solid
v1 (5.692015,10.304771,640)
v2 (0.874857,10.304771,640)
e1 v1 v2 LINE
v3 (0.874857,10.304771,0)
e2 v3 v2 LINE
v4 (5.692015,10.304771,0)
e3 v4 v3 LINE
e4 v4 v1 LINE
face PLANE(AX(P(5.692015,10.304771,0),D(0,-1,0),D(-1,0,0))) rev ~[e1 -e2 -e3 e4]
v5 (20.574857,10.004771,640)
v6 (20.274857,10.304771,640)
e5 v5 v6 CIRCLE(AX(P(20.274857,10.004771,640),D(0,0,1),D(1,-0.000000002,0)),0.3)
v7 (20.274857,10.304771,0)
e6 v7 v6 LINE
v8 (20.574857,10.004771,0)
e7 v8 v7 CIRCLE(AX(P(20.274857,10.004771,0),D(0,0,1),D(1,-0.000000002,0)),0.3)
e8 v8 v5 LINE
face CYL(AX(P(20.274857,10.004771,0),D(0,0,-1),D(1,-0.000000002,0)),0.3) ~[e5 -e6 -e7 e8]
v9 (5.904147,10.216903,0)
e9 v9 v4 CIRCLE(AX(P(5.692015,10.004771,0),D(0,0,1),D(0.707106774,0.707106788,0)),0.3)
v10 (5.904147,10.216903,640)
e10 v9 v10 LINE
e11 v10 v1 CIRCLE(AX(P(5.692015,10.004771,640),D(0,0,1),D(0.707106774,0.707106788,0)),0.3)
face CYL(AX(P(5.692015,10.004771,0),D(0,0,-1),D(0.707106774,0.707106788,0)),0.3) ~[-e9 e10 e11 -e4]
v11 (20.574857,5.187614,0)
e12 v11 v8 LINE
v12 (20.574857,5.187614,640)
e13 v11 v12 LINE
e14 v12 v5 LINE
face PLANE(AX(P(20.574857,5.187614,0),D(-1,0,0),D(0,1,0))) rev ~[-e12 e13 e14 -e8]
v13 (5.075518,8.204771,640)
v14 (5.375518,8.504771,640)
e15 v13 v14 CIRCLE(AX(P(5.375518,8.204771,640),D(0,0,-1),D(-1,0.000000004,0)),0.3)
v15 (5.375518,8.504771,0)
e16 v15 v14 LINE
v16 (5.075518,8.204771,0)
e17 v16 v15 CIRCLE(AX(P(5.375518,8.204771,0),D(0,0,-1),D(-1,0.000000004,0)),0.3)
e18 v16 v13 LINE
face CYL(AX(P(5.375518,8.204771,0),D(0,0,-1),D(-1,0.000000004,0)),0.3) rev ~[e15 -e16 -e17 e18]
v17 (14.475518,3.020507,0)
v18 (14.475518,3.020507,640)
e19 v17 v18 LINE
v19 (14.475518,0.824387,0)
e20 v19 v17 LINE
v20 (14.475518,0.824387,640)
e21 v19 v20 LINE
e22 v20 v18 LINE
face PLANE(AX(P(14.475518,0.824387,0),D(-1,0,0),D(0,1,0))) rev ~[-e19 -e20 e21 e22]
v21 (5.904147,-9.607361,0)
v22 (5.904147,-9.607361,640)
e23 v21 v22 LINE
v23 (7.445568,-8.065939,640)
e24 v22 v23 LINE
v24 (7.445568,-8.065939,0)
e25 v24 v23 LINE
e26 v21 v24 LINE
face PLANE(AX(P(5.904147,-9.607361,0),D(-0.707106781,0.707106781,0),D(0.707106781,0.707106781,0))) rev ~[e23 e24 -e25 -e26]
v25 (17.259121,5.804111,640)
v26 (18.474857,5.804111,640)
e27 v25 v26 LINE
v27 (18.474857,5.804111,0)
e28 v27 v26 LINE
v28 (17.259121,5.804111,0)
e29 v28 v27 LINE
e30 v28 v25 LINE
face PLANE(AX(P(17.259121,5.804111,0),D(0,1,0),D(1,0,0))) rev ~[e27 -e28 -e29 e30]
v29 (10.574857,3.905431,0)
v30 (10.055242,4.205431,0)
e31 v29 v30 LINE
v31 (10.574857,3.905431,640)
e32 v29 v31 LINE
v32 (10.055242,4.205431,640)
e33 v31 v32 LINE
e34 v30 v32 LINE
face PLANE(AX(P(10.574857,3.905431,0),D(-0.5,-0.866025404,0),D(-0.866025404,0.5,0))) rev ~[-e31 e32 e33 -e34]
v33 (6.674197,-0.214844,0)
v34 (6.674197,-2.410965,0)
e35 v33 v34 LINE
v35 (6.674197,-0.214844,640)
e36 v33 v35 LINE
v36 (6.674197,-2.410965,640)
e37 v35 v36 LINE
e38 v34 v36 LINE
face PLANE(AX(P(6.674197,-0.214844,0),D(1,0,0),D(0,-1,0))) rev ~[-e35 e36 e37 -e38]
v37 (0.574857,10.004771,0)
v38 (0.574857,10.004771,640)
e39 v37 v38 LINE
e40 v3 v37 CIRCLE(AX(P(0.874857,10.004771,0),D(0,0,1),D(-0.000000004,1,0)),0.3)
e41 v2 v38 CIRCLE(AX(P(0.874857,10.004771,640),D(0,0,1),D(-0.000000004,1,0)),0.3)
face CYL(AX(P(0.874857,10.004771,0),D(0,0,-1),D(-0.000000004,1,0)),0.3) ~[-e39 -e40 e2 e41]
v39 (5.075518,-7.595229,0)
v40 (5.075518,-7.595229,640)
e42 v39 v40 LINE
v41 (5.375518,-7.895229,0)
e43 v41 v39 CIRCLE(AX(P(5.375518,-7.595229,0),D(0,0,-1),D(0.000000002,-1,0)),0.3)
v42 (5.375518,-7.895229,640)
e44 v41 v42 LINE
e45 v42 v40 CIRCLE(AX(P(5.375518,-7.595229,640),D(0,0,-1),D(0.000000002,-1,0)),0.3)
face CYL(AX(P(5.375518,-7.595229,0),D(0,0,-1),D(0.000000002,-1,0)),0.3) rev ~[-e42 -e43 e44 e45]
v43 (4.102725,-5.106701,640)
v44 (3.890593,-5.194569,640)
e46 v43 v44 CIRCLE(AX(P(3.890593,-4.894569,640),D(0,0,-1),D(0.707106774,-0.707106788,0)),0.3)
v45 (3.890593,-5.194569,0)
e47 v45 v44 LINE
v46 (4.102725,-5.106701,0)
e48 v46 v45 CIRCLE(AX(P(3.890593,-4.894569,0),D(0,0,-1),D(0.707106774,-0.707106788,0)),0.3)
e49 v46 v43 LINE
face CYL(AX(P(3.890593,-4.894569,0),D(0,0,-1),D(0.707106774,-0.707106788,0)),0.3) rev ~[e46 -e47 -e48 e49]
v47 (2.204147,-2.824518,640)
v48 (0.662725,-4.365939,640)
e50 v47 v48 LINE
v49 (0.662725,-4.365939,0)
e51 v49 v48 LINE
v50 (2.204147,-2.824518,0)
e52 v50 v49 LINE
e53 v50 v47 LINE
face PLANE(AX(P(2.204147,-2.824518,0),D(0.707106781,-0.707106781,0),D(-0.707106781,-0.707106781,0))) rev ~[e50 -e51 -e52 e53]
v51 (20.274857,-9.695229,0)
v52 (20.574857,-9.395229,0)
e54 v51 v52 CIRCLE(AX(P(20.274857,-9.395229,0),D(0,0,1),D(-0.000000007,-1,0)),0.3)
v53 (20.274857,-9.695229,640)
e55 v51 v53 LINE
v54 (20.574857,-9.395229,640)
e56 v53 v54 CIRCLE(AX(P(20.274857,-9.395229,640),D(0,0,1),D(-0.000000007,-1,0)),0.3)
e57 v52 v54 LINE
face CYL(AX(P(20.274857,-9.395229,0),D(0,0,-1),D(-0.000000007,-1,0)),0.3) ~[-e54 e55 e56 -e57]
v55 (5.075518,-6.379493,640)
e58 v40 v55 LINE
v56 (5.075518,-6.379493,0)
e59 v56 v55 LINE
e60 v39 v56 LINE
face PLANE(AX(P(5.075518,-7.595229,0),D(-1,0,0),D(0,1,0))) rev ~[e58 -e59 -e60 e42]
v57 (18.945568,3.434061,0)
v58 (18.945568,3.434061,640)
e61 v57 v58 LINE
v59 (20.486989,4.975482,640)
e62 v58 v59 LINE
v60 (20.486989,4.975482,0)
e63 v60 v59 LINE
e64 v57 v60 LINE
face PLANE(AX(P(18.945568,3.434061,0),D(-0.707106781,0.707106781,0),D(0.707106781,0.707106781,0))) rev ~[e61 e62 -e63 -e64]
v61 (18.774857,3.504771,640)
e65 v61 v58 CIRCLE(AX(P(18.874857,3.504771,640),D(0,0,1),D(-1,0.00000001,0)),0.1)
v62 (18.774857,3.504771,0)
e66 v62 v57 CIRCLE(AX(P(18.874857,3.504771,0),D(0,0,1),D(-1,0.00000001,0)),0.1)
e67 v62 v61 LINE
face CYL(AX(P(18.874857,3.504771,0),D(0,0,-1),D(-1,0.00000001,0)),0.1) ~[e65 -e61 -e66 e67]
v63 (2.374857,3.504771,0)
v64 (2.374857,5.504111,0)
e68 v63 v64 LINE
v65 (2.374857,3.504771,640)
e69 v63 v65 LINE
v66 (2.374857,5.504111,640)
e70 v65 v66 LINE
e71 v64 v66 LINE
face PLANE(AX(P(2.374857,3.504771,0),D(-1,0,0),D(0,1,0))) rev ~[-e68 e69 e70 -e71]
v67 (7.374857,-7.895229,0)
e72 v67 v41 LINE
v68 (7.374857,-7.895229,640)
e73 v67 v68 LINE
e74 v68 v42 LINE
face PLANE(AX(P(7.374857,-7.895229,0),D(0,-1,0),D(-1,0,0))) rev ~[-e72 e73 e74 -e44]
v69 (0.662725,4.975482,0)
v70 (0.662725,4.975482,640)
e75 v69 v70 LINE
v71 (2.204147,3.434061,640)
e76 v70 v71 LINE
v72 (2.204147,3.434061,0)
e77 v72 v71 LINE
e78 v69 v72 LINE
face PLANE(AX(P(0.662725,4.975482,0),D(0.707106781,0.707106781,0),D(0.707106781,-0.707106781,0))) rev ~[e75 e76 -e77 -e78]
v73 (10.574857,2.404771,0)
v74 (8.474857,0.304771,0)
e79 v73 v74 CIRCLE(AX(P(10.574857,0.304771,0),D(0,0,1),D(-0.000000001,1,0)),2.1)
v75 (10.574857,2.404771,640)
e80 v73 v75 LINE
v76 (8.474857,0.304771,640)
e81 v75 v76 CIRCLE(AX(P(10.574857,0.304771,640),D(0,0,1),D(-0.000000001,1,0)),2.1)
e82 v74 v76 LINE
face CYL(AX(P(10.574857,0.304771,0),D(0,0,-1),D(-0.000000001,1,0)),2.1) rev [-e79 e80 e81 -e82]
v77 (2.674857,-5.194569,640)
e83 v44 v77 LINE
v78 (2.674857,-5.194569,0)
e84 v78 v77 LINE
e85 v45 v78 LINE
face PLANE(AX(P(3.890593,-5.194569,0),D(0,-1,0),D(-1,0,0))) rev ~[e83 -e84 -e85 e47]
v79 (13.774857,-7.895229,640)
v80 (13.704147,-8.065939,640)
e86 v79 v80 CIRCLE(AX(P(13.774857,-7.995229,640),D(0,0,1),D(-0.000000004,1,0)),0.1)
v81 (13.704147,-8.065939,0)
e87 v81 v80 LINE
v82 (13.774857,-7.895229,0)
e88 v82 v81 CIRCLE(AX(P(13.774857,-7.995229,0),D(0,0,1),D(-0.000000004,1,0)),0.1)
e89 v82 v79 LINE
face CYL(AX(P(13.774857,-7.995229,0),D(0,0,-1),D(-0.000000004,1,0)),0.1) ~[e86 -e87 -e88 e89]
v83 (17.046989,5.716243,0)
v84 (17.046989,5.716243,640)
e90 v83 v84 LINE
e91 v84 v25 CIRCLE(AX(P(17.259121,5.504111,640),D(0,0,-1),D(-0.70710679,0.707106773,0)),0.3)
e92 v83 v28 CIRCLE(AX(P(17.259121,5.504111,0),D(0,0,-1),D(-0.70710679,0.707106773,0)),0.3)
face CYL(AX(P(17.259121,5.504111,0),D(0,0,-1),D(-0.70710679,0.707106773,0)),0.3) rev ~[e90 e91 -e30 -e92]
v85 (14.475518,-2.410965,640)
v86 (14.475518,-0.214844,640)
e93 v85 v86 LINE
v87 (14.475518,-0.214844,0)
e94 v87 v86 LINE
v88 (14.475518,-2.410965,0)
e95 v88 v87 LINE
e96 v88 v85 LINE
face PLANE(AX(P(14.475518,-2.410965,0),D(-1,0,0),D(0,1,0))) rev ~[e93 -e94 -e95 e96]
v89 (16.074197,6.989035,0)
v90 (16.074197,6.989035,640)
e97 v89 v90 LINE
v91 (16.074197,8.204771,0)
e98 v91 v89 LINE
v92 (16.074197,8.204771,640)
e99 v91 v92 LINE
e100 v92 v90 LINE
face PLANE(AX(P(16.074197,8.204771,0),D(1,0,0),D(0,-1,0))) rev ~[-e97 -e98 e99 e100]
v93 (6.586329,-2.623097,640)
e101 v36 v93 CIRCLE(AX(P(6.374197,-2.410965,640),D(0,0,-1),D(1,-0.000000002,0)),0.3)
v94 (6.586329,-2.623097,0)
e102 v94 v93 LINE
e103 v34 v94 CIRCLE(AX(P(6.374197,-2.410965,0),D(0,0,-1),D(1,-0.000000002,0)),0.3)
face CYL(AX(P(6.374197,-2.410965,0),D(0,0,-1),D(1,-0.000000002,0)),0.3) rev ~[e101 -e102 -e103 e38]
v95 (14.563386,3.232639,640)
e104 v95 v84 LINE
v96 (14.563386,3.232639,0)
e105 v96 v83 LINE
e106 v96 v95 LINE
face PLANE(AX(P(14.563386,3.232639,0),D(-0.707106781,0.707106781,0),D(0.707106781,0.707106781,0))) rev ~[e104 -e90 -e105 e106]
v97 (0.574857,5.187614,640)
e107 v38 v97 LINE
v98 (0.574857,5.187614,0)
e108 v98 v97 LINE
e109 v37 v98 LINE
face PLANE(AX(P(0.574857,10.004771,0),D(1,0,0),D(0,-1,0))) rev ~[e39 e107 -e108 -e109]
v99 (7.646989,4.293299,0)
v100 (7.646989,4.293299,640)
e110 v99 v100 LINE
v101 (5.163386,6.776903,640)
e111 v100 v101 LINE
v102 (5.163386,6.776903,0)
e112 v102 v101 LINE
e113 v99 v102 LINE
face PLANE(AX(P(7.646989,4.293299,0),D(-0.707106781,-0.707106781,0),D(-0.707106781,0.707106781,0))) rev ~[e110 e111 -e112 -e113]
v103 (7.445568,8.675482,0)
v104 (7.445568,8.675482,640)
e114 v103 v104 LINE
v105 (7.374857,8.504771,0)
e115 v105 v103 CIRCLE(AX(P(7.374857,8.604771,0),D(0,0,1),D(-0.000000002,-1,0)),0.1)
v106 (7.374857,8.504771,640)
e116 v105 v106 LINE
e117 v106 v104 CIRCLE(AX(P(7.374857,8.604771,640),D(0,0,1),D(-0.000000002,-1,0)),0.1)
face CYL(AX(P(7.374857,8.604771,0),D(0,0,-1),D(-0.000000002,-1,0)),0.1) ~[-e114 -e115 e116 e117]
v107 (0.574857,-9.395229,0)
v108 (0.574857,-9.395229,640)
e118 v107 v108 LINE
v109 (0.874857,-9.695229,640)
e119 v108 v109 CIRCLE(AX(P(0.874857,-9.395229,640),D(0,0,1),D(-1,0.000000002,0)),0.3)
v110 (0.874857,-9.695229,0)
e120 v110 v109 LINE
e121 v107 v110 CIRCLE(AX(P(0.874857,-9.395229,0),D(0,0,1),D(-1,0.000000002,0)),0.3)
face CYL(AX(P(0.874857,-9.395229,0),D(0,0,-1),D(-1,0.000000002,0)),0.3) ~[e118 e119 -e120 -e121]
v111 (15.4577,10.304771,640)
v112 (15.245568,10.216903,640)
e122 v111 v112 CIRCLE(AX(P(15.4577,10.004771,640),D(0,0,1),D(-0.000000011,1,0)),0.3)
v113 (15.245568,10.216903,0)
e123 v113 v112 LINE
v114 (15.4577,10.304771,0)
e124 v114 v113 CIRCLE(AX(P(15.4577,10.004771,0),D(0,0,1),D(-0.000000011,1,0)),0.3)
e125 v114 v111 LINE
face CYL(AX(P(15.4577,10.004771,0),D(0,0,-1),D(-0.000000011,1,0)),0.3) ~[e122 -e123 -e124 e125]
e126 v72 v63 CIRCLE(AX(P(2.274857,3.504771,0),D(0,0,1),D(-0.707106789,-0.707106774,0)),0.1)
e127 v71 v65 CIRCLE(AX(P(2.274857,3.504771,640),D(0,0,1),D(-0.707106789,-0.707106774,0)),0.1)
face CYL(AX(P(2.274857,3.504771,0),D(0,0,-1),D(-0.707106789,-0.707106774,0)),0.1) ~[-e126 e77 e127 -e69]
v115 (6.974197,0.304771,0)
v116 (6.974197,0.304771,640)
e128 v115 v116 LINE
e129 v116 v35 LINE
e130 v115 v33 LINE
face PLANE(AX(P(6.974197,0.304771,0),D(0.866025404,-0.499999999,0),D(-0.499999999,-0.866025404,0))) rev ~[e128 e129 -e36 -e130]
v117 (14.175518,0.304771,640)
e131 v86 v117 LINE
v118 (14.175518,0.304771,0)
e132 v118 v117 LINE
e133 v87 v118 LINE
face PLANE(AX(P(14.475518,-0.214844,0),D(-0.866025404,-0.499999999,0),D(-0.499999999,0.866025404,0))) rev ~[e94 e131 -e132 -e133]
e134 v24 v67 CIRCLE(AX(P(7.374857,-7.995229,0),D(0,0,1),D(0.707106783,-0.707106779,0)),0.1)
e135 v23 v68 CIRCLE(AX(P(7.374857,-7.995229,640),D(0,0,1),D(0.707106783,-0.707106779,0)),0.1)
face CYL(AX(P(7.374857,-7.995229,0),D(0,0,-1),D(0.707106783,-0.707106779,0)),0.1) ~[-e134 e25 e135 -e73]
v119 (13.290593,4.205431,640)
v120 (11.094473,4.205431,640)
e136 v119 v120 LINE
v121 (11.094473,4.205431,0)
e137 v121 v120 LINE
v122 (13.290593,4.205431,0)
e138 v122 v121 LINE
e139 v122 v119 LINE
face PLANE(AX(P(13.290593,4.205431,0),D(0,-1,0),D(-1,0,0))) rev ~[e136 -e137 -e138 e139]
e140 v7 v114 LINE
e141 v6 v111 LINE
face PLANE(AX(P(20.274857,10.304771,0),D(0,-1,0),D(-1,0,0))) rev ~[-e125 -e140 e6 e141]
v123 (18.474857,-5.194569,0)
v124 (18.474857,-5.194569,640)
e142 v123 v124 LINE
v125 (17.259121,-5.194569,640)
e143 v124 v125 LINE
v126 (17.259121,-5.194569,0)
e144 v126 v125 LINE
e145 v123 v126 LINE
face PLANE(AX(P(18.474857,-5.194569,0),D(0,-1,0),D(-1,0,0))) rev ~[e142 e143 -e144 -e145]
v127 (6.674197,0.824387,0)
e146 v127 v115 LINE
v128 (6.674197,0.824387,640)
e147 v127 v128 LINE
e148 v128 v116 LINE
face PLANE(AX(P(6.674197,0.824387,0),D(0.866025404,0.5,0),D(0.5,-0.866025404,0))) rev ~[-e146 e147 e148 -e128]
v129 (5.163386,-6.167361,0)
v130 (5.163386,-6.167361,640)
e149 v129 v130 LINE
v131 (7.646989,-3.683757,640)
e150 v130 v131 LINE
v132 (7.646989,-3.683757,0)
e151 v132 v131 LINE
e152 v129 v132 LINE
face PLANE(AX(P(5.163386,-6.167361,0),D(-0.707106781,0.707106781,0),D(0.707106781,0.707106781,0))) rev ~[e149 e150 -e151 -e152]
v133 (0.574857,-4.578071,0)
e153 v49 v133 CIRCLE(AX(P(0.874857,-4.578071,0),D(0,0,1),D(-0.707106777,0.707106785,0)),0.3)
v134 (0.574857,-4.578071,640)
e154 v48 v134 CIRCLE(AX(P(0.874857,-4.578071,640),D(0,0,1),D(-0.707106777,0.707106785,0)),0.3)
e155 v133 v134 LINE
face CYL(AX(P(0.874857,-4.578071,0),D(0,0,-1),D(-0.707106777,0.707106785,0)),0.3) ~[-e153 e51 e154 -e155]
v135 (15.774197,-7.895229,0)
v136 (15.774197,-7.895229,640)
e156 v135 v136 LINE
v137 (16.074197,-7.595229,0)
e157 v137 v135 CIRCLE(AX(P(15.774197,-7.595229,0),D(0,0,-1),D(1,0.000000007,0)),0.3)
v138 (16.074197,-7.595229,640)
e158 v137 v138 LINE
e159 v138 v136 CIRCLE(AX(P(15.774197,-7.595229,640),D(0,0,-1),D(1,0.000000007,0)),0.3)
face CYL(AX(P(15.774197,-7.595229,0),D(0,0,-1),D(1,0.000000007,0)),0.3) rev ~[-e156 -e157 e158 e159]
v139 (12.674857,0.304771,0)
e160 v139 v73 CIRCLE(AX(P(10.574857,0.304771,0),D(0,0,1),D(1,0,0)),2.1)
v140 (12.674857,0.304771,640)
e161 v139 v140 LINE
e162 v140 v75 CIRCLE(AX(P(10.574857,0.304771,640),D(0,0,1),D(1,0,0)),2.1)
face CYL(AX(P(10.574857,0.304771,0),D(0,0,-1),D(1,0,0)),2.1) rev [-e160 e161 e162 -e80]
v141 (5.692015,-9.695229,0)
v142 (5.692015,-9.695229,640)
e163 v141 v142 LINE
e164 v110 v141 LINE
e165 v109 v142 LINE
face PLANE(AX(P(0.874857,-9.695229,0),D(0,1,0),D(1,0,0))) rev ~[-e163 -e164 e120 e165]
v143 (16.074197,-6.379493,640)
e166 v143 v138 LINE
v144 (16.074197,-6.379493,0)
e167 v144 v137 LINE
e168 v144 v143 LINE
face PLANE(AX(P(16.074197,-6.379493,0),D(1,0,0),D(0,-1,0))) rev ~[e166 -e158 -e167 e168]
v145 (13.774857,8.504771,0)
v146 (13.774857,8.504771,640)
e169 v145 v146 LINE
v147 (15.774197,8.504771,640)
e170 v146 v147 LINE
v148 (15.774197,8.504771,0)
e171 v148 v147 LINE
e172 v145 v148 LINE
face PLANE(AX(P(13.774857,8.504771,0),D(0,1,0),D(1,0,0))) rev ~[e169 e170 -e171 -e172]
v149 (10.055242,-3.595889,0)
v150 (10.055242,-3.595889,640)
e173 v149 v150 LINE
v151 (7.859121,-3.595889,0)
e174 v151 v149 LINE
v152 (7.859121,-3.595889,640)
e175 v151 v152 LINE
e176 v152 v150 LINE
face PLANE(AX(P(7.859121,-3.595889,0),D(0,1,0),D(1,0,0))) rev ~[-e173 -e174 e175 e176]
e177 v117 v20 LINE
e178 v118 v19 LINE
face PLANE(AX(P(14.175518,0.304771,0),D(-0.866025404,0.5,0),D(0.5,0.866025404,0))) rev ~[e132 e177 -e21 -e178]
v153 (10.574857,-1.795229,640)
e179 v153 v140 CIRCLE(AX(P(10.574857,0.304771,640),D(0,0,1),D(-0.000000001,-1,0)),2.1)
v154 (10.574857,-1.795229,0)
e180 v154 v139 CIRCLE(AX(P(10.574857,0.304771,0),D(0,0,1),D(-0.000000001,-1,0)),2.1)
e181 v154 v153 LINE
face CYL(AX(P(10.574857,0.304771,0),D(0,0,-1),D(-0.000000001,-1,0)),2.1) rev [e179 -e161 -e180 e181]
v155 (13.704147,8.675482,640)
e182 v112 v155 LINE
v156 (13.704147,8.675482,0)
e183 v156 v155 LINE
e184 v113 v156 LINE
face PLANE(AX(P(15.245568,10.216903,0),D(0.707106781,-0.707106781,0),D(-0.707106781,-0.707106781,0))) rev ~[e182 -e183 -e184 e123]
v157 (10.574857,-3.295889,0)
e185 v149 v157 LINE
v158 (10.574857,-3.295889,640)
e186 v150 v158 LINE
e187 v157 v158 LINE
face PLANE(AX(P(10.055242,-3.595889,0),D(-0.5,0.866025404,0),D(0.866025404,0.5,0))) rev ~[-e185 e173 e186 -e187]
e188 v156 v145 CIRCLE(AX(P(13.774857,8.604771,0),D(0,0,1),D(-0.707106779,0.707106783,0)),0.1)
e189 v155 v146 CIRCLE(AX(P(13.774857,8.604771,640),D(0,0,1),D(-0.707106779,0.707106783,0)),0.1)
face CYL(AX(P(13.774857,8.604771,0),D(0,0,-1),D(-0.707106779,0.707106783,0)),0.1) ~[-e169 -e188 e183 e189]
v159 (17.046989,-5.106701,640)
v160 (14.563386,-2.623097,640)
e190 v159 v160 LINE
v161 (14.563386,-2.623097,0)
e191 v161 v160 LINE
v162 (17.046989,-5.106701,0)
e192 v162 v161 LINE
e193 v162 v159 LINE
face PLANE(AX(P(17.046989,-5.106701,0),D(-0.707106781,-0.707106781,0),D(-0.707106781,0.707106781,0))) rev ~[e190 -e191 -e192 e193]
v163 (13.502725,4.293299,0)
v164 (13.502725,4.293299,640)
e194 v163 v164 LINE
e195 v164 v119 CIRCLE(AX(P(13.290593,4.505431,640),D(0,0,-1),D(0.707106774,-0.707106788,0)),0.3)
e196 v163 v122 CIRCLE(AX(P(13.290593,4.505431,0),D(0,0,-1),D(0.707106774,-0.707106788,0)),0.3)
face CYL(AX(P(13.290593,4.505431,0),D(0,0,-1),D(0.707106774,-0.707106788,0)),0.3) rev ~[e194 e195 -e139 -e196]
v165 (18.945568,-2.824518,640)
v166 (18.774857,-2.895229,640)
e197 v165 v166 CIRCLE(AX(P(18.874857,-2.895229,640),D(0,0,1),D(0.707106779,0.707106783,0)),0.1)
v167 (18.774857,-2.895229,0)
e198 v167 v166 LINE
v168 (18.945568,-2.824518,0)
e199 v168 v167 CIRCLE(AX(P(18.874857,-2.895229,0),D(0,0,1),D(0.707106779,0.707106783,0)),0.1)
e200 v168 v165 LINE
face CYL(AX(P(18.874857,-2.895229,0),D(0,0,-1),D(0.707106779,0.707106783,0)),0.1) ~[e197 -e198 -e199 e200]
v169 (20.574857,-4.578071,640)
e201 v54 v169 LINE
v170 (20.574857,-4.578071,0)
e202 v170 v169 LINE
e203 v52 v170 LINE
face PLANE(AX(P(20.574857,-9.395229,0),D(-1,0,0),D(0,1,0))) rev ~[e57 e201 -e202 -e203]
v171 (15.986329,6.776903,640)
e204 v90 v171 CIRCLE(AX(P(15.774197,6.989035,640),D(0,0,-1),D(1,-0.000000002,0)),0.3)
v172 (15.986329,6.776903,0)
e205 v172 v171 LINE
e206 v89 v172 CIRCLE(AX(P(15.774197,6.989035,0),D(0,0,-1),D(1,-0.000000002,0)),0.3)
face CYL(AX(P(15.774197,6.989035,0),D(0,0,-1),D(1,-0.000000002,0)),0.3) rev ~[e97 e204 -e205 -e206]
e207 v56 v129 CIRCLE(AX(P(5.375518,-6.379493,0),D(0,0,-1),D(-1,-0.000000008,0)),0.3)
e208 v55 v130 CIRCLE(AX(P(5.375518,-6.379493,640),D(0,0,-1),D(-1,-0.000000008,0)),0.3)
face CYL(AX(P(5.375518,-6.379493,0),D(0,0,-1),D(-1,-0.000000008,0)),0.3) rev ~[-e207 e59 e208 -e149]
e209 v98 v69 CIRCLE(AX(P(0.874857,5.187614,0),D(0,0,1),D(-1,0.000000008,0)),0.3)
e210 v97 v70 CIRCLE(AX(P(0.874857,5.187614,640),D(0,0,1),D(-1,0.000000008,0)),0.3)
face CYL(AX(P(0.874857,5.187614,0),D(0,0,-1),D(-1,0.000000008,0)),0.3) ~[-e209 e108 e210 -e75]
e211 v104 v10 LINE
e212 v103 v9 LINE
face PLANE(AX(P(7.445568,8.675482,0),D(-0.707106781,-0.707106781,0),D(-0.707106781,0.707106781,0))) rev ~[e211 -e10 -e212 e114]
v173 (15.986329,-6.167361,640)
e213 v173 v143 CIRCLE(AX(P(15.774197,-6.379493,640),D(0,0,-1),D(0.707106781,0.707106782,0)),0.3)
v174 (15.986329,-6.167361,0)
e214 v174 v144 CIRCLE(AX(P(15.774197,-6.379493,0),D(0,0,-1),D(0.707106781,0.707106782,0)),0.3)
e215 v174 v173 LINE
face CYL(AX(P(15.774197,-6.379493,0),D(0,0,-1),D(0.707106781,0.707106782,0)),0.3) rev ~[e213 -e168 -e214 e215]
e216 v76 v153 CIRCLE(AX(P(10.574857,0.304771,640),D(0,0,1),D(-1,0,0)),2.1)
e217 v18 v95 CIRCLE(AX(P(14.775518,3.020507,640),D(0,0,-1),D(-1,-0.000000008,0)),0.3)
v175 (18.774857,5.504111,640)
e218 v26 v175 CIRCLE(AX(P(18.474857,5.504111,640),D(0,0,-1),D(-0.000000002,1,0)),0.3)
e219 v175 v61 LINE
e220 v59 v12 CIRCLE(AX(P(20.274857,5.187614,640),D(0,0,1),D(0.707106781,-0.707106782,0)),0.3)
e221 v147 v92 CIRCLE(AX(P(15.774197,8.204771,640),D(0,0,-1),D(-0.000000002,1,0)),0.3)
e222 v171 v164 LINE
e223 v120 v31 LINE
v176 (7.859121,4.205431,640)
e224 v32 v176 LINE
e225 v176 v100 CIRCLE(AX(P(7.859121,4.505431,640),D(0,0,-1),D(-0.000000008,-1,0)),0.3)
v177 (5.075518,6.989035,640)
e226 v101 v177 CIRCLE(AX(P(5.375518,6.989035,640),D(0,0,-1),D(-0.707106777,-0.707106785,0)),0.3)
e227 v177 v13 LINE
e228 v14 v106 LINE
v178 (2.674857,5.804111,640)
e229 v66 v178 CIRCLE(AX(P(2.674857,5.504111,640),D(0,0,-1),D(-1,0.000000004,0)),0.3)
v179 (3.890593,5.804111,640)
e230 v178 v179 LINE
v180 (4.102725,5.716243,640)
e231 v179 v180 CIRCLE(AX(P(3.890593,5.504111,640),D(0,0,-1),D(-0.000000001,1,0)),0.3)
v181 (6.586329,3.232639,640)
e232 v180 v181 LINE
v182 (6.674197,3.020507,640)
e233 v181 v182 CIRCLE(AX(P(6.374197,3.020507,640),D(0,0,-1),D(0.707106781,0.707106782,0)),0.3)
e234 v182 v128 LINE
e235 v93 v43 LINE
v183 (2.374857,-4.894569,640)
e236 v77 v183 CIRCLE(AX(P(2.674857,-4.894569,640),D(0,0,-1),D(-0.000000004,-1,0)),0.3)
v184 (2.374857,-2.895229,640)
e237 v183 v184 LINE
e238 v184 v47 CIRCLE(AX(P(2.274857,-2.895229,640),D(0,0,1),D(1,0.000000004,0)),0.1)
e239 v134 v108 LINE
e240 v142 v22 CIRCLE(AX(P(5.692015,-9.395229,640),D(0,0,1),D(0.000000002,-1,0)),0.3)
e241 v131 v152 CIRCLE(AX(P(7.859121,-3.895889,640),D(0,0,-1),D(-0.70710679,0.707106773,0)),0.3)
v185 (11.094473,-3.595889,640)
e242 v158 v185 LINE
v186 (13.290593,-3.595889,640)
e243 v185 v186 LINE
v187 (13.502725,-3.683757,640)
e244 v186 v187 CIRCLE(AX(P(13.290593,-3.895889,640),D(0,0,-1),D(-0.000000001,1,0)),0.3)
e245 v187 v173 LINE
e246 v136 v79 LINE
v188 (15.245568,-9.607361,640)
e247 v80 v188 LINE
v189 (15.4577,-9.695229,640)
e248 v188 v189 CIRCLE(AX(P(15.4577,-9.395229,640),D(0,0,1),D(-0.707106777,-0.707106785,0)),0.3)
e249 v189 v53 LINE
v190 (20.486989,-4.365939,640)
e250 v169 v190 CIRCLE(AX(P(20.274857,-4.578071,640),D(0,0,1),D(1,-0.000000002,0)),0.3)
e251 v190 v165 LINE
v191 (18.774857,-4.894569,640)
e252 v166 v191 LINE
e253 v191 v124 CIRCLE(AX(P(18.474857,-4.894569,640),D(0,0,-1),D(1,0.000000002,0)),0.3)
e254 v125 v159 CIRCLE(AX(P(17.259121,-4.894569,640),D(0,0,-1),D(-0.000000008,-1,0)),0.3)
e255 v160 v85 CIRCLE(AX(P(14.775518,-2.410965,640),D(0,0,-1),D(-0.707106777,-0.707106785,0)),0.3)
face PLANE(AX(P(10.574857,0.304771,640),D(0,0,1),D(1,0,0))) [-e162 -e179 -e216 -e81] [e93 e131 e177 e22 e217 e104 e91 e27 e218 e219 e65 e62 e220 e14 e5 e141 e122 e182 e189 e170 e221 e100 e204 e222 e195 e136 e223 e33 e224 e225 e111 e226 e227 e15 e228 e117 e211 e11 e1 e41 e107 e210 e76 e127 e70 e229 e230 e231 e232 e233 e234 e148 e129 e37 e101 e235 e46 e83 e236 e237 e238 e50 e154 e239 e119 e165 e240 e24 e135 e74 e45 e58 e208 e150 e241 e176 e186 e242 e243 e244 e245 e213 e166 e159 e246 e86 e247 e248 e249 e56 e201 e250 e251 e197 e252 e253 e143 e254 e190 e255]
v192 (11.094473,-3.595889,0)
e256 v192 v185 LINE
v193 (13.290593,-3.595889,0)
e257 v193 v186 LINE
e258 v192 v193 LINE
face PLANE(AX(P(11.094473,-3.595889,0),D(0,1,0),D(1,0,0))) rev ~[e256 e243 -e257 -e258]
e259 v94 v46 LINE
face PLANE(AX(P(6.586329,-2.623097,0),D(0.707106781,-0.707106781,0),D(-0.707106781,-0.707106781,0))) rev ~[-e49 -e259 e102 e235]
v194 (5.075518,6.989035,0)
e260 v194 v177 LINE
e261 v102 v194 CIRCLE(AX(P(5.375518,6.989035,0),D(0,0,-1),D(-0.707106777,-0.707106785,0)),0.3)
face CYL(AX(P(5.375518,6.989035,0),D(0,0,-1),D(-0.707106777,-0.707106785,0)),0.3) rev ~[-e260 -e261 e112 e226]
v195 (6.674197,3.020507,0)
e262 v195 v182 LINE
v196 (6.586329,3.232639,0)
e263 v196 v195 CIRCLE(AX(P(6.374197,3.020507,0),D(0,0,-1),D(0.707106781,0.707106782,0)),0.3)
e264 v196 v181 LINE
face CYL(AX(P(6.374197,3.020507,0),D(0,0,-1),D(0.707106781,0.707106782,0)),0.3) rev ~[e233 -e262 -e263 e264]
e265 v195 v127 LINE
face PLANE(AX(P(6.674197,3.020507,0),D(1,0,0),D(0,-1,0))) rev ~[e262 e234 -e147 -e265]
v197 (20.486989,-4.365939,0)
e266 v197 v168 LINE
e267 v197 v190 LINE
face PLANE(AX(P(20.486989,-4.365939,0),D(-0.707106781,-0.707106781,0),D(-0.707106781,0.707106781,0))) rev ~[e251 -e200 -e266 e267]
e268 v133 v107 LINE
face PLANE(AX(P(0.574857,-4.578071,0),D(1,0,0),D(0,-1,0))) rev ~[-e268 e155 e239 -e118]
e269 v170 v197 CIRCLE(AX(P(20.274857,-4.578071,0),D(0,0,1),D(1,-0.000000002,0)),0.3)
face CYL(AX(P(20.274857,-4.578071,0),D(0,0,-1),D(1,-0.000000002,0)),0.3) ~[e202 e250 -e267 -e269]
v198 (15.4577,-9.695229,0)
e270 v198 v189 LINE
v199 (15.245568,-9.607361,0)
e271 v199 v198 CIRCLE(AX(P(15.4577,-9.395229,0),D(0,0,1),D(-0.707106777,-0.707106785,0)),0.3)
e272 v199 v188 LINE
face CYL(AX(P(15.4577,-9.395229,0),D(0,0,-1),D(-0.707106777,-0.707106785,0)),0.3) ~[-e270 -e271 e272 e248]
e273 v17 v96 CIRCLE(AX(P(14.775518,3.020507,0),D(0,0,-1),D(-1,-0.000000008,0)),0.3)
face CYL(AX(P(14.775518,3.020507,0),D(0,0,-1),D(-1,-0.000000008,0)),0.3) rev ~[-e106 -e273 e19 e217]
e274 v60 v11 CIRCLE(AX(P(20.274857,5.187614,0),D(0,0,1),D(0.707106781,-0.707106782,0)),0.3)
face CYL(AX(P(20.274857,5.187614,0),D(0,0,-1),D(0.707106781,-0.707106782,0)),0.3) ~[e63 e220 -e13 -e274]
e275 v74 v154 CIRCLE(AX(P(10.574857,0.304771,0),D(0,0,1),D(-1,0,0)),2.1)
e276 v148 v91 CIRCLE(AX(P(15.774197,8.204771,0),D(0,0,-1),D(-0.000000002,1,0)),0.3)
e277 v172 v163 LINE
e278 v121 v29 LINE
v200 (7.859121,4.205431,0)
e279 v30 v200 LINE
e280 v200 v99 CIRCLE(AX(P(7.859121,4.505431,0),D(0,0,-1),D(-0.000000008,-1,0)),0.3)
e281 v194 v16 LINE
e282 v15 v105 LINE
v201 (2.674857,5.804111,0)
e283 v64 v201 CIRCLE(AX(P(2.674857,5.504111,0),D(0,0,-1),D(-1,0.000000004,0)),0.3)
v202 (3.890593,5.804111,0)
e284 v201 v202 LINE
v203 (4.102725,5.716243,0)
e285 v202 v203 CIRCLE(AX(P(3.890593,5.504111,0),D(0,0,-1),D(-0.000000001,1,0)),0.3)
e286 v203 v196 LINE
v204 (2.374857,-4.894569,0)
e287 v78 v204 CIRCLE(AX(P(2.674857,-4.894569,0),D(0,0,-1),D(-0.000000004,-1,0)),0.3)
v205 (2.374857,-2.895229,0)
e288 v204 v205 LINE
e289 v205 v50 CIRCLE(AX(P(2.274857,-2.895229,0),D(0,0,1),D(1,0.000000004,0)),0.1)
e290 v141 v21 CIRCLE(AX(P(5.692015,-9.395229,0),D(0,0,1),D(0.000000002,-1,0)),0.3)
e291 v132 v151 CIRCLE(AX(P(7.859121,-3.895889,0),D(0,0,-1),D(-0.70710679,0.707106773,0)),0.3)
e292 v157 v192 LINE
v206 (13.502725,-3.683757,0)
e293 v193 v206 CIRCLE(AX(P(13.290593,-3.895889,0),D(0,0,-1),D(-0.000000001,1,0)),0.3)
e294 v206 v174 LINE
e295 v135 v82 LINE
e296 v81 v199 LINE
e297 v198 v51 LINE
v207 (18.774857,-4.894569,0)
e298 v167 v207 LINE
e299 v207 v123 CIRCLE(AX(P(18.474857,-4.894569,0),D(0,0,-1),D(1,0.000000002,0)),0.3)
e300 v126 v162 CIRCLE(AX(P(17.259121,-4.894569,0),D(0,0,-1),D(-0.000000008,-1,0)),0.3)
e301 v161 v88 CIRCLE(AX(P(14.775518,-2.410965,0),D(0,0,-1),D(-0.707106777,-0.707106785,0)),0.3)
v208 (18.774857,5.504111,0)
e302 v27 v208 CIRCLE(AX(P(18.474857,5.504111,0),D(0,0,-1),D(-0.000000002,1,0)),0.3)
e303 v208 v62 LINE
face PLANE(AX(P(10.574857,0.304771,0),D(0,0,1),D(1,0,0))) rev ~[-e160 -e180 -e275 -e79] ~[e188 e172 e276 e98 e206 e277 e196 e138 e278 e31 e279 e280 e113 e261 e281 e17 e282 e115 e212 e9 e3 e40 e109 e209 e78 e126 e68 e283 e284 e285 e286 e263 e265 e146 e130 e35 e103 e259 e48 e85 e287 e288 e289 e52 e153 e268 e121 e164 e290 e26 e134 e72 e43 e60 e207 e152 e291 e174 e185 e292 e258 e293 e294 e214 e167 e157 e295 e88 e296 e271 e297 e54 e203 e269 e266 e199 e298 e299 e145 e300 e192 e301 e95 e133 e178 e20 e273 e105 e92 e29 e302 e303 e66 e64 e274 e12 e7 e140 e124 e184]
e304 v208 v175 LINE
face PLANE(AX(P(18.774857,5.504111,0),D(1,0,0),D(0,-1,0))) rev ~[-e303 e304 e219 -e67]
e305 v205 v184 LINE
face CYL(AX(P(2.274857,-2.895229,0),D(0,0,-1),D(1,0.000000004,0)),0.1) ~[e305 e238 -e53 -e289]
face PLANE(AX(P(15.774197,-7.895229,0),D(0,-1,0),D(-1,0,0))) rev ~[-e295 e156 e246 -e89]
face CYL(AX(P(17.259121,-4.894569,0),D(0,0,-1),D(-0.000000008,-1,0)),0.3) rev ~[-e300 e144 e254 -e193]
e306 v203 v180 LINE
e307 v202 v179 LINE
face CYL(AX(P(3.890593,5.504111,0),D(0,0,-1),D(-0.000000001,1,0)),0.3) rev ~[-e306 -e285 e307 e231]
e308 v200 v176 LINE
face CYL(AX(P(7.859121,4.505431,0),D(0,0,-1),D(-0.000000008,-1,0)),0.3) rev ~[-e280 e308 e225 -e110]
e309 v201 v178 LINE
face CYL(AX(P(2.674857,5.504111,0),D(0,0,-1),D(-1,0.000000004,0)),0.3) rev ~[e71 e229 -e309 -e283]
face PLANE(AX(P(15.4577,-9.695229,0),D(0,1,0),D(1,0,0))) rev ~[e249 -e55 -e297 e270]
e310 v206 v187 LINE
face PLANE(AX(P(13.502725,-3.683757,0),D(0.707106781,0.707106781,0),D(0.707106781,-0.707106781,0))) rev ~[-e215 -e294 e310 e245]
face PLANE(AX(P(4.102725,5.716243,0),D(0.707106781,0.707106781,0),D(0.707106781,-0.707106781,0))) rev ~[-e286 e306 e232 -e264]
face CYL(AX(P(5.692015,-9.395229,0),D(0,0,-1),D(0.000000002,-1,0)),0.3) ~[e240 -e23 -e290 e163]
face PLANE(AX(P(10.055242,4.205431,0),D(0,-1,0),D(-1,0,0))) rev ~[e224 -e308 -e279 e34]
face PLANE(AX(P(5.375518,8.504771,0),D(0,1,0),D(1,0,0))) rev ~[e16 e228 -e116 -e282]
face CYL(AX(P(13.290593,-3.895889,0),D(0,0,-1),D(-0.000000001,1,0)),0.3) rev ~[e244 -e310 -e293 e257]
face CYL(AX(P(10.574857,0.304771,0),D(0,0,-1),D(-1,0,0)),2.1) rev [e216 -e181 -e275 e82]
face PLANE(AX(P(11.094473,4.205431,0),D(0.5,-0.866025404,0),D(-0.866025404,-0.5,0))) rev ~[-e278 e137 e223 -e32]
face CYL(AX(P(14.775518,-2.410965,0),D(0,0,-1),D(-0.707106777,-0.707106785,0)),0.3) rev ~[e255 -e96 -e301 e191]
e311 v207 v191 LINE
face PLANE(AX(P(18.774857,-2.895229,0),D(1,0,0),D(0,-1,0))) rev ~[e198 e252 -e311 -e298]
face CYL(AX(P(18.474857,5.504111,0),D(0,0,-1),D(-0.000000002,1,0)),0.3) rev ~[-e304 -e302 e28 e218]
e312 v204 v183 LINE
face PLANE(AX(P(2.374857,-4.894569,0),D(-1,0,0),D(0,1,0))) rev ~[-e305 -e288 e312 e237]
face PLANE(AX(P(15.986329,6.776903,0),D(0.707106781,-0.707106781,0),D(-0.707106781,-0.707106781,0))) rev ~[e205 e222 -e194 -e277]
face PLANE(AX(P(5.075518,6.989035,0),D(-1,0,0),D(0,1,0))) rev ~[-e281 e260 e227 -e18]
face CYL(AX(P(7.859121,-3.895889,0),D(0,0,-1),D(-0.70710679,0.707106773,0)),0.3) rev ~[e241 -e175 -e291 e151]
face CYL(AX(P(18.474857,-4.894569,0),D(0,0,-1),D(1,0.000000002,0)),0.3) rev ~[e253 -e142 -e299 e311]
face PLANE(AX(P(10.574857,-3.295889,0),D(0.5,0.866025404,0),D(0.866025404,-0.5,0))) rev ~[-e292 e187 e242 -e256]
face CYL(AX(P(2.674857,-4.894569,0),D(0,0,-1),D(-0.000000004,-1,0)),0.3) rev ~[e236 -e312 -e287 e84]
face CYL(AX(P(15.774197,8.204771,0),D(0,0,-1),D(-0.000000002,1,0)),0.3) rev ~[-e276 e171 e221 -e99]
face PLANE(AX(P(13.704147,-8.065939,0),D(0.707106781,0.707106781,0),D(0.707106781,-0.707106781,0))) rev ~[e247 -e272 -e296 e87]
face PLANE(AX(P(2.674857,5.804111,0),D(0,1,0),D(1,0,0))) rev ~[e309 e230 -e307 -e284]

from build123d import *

# Parameters (mm, degrees)
BOSS_EXTRU_1_DEPTH = 640


with BuildPart() as part:
    # Esquisse1 → Boss.-Extru.1 (new body)
    with BuildSketch(Plane.XY):
        with BuildLine():
            Line((18.774857412, -2.895228684), (18.774857412, -4.894568513))
            ThreePointArc((18.774857412, -4.894568513), (18.686989447, -5.106700547), (18.474857412, -5.194568513))
            Line((18.474857412, -5.194568513), (17.259121481, -5.194568513))
            ThreePointArc((17.259121481, -5.194568513), (17.144316451, -5.171732372), (17.046989447, -5.106700547))
            Line((17.046989447, -5.106700547), (14.56338555, -2.62309665))
            ThreePointArc((14.56338555, -2.62309665), (14.498353724, -2.525769645), (14.475517584, -2.410964616))
            Line((14.475517584, -2.410964616), (14.475517584, -0.214843927))
            Line((14.475517584, -0.214843927), (14.175517584, 0.304771316))
            Line((14.175517584, 0.304771316), (14.475517584, 0.824386558))
            Line((14.475517584, 0.824386558), (14.475517584, 3.020507247))
            ThreePointArc((14.475517584, 3.020507247), (14.498353724, 3.135312277), (14.56338555, 3.232639281))
            Line((14.56338555, 3.232639281), (17.046989447, 5.716243178))
            ThreePointArc((17.046989447, 5.716243178), (17.144316451, 5.781275004), (17.259121481, 5.804111144))
            Line((17.259121481, 5.804111144), (18.474857412, 5.804111144))
            ThreePointArc((18.474857412, 5.804111144), (18.686989447, 5.716243178), (18.774857412, 5.504111144))
            Line((18.774857412, 5.504111144), (18.774857412, 3.504771316))
            ThreePointArc((18.774857412, 3.504771316), (18.836589069, 3.412383362), (18.94556809, 3.434060638))
            Line((18.94556809, 3.434060638), (20.486989447, 4.975481994))
            ThreePointArc((20.486989447, 4.975481994), (20.552021272, 5.072808998), (20.574857412, 5.187614028))
            Line((20.574857412, 5.187614028), (20.574857412, 10.004771316))
            ThreePointArc((20.574857412, 10.004771316), (20.486989447, 10.21690335), (20.274857412, 10.304771316))
            Line((20.274857412, 10.304771316), (15.457700125, 10.304771316))
            ThreePointArc((15.457700125, 10.304771316), (15.342895095, 10.281935175), (15.24556809, 10.21690335))
            Line((15.24556809, 10.21690335), (13.704146734, 8.675481994))
            ThreePointArc((13.704146734, 8.675481994), (13.682469459, 8.566502972), (13.774857412, 8.504771316))
            Line((13.774857412, 8.504771316), (15.77419724, 8.504771316))
            ThreePointArc((15.77419724, 8.504771316), (15.986329275, 8.41690335), (16.07419724, 8.204771316))
            Line((16.07419724, 8.204771316), (16.07419724, 6.989035384))
            ThreePointArc((16.07419724, 6.989035384), (16.0513611, 6.874230355), (15.986329275, 6.77690335))
            Line((15.986329275, 6.77690335), (13.502725378, 4.293299453))
            ThreePointArc((13.502725378, 4.293299453), (13.405398373, 4.228267628), (13.290593344, 4.205431487))
            Line((13.290593344, 4.205431487), (11.094472654, 4.205431487))
            Line((11.094472654, 4.205431487), (10.574857412, 3.905431487))
            Line((10.574857412, 3.905431487), (10.05524217, 4.205431487))
            Line((10.05524217, 4.205431487), (7.859121481, 4.205431487))
            ThreePointArc((7.859121481, 4.205431487), (7.744316451, 4.228267628), (7.646989447, 4.293299453))
            Line((7.646989447, 4.293299453), (5.16338555, 6.77690335))
            ThreePointArc((5.16338555, 6.77690335), (5.098353724, 6.874230355), (5.075517584, 6.989035384))
            Line((5.075517584, 6.989035384), (5.075517584, 8.204771316))
            ThreePointArc((5.075517584, 8.204771316), (5.16338555, 8.41690335), (5.375517584, 8.504771316))
            Line((5.375517584, 8.504771316), (7.374857412, 8.504771316))
            ThreePointArc((7.374857412, 8.504771316), (7.467245365, 8.566502972), (7.44556809, 8.675481994))
            Line((7.44556809, 8.675481994), (5.904146734, 10.21690335))
            ThreePointArc((5.904146734, 10.21690335), (5.806819729, 10.281935175), (5.6920147, 10.304771316))
            Line((5.6920147, 10.304771316), (0.874857412, 10.304771316))
            ThreePointArc((0.874857412, 10.304771316), (0.662725378, 10.21690335), (0.574857412, 10.004771316))
            Line((0.574857412, 10.004771316), (0.574857412, 5.187614028))
            ThreePointArc((0.574857412, 5.187614028), (0.597693552, 5.072808998), (0.662725378, 4.975481994))
            Line((0.662725378, 4.975481994), (2.204146734, 3.434060638))
            ThreePointArc((2.204146734, 3.434060638), (2.313125755, 3.412383362), (2.374857412, 3.504771316))
            Line((2.374857412, 3.504771316), (2.374857412, 5.504111144))
            ThreePointArc((2.374857412, 5.504111144), (2.462725378, 5.716243178), (2.674857412, 5.804111144))
            Line((2.674857412, 5.804111144), (3.890593344, 5.804111144))
            ThreePointArc((3.890593344, 5.804111144), (4.005398373, 5.781275004), (4.102725378, 5.716243178))
            Line((4.102725378, 5.716243178), (6.586329275, 3.232639281))
            ThreePointArc((6.586329275, 3.232639281), (6.6513611, 3.135312277), (6.67419724, 3.020507247))
            Line((6.67419724, 3.020507247), (6.67419724, 0.824386558))
            Line((6.67419724, 0.824386558), (6.97419724, 0.304771316))
            Line((6.97419724, 0.304771316), (6.67419724, -0.214843927))
            Line((6.67419724, -0.214843927), (6.67419724, -2.410964616))
            ThreePointArc((6.67419724, -2.410964616), (6.6513611, -2.525769645), (6.586329275, -2.62309665))
            Line((6.586329275, -2.62309665), (4.102725378, -5.106700547))
            ThreePointArc((4.102725378, -5.106700547), (4.005398373, -5.171732372), (3.890593344, -5.194568513))
            Line((3.890593344, -5.194568513), (2.674857412, -5.194568513))
            ThreePointArc((2.674857412, -5.194568513), (2.462725378, -5.106700547), (2.374857412, -4.894568513))
            Line((2.374857412, -4.894568513), (2.374857412, -2.895228684))
            ThreePointArc((2.374857412, -2.895228684), (2.313125755, -2.802840731), (2.204146734, -2.824518006))
            Line((2.204146734, -2.824518006), (0.662725378, -4.365939362))
            ThreePointArc((0.662725378, -4.365939362), (0.597693552, -4.463266367), (0.574857412, -4.578071397))
            Line((0.574857412, -4.578071397), (0.574857412, -9.395228684))
            ThreePointArc((0.574857412, -9.395228684), (0.662725378, -9.607360719), (0.874857412, -9.695228684))
            Line((0.874857412, -9.695228684), (5.6920147, -9.695228684))
            ThreePointArc((5.6920147, -9.695228684), (5.806819729, -9.672392544), (5.904146734, -9.607360719))
            Line((5.904146734, -9.607360719), (7.44556809, -8.065939362))
            ThreePointArc((7.44556809, -8.065939362), (7.467245365, -7.956960341), (7.374857412, -7.895228684))
            Line((7.374857412, -7.895228684), (5.375517584, -7.895228684))
            ThreePointArc((5.375517584, -7.895228684), (5.16338555, -7.807360719), (5.075517584, -7.595228684))
            Line((5.075517584, -7.595228684), (5.075517584, -6.379492753))
            ThreePointArc((5.075517584, -6.379492753), (5.098353724, -6.264687723), (5.16338555, -6.167360719))
            Line((5.16338555, -6.167360719), (7.646989447, -3.683756822))
            ThreePointArc((7.646989447, -3.683756822), (7.744316451, -3.618724996), (7.859121481, -3.595888856))
            Line((7.859121481, -3.595888856), (10.05524217, -3.595888856))
            Line((10.05524217, -3.595888856), (10.574857412, -3.295888856))
            Line((10.574857412, -3.295888856), (11.094472654, -3.595888856))
            Line((11.094472654, -3.595888856), (13.290593344, -3.595888856))
            ThreePointArc((13.290593344, -3.595888856), (13.405398373, -3.618724996), (13.502725378, -3.683756822))
            Line((13.502725378, -3.683756822), (15.986329275, -6.167360719))
            ThreePointArc((15.986329275, -6.167360719), (16.0513611, -6.264687723), (16.07419724, -6.379492753))
            Line((16.07419724, -6.379492753), (16.07419724, -7.595228684))
            ThreePointArc((16.07419724, -7.595228684), (15.986329275, -7.807360719), (15.77419724, -7.895228684))
            Line((15.77419724, -7.895228684), (13.774857412, -7.895228684))
            ThreePointArc((13.774857412, -7.895228684), (13.682469459, -7.956960341), (13.704146734, -8.065939362))
            Line((13.704146734, -8.065939362), (15.24556809, -9.607360719))
            ThreePointArc((15.24556809, -9.607360719), (15.342895095, -9.672392544), (15.457700125, -9.695228684))
            Line((15.457700125, -9.695228684), (20.274857412, -9.695228684))
            ThreePointArc((20.274857412, -9.695228684), (20.486989447, -9.607360719), (20.574857412, -9.395228684))
            Line((20.574857412, -9.395228684), (20.574857412, -4.578071397))
            ThreePointArc((20.574857412, -4.578071397), (20.552021272, -4.463266367), (20.486989447, -4.365939362))
            Line((20.486989447, -4.365939362), (18.94556809, -2.824518006))
            ThreePointArc((18.94556809, -2.824518006), (18.836589069, -2.802840731), (18.774857412, -2.895228684))
        make_face()
        with BuildLine():
            ThreePointArc((10.574857412, -1.795228684), (12.059781653, -1.180152925), (12.674857412, 0.304771316))
            ThreePointArc((12.674857412, 0.304771316), (12.059781653, 1.789695556), (10.574857412, 2.404771316))
            ThreePointArc((10.574857412, 2.404771316), (9.089933172, 1.789695556), (8.474857412, 0.304771316))
            ThreePointArc((8.474857412, 0.304771316), (9.089933172, -1.180152925), (10.574857412, -1.795228684))
        make_face(mode=Mode.SUBTRACT)
    extrude(amount=BOSS_EXTRU_1_DEPTH)


solid = part.part
